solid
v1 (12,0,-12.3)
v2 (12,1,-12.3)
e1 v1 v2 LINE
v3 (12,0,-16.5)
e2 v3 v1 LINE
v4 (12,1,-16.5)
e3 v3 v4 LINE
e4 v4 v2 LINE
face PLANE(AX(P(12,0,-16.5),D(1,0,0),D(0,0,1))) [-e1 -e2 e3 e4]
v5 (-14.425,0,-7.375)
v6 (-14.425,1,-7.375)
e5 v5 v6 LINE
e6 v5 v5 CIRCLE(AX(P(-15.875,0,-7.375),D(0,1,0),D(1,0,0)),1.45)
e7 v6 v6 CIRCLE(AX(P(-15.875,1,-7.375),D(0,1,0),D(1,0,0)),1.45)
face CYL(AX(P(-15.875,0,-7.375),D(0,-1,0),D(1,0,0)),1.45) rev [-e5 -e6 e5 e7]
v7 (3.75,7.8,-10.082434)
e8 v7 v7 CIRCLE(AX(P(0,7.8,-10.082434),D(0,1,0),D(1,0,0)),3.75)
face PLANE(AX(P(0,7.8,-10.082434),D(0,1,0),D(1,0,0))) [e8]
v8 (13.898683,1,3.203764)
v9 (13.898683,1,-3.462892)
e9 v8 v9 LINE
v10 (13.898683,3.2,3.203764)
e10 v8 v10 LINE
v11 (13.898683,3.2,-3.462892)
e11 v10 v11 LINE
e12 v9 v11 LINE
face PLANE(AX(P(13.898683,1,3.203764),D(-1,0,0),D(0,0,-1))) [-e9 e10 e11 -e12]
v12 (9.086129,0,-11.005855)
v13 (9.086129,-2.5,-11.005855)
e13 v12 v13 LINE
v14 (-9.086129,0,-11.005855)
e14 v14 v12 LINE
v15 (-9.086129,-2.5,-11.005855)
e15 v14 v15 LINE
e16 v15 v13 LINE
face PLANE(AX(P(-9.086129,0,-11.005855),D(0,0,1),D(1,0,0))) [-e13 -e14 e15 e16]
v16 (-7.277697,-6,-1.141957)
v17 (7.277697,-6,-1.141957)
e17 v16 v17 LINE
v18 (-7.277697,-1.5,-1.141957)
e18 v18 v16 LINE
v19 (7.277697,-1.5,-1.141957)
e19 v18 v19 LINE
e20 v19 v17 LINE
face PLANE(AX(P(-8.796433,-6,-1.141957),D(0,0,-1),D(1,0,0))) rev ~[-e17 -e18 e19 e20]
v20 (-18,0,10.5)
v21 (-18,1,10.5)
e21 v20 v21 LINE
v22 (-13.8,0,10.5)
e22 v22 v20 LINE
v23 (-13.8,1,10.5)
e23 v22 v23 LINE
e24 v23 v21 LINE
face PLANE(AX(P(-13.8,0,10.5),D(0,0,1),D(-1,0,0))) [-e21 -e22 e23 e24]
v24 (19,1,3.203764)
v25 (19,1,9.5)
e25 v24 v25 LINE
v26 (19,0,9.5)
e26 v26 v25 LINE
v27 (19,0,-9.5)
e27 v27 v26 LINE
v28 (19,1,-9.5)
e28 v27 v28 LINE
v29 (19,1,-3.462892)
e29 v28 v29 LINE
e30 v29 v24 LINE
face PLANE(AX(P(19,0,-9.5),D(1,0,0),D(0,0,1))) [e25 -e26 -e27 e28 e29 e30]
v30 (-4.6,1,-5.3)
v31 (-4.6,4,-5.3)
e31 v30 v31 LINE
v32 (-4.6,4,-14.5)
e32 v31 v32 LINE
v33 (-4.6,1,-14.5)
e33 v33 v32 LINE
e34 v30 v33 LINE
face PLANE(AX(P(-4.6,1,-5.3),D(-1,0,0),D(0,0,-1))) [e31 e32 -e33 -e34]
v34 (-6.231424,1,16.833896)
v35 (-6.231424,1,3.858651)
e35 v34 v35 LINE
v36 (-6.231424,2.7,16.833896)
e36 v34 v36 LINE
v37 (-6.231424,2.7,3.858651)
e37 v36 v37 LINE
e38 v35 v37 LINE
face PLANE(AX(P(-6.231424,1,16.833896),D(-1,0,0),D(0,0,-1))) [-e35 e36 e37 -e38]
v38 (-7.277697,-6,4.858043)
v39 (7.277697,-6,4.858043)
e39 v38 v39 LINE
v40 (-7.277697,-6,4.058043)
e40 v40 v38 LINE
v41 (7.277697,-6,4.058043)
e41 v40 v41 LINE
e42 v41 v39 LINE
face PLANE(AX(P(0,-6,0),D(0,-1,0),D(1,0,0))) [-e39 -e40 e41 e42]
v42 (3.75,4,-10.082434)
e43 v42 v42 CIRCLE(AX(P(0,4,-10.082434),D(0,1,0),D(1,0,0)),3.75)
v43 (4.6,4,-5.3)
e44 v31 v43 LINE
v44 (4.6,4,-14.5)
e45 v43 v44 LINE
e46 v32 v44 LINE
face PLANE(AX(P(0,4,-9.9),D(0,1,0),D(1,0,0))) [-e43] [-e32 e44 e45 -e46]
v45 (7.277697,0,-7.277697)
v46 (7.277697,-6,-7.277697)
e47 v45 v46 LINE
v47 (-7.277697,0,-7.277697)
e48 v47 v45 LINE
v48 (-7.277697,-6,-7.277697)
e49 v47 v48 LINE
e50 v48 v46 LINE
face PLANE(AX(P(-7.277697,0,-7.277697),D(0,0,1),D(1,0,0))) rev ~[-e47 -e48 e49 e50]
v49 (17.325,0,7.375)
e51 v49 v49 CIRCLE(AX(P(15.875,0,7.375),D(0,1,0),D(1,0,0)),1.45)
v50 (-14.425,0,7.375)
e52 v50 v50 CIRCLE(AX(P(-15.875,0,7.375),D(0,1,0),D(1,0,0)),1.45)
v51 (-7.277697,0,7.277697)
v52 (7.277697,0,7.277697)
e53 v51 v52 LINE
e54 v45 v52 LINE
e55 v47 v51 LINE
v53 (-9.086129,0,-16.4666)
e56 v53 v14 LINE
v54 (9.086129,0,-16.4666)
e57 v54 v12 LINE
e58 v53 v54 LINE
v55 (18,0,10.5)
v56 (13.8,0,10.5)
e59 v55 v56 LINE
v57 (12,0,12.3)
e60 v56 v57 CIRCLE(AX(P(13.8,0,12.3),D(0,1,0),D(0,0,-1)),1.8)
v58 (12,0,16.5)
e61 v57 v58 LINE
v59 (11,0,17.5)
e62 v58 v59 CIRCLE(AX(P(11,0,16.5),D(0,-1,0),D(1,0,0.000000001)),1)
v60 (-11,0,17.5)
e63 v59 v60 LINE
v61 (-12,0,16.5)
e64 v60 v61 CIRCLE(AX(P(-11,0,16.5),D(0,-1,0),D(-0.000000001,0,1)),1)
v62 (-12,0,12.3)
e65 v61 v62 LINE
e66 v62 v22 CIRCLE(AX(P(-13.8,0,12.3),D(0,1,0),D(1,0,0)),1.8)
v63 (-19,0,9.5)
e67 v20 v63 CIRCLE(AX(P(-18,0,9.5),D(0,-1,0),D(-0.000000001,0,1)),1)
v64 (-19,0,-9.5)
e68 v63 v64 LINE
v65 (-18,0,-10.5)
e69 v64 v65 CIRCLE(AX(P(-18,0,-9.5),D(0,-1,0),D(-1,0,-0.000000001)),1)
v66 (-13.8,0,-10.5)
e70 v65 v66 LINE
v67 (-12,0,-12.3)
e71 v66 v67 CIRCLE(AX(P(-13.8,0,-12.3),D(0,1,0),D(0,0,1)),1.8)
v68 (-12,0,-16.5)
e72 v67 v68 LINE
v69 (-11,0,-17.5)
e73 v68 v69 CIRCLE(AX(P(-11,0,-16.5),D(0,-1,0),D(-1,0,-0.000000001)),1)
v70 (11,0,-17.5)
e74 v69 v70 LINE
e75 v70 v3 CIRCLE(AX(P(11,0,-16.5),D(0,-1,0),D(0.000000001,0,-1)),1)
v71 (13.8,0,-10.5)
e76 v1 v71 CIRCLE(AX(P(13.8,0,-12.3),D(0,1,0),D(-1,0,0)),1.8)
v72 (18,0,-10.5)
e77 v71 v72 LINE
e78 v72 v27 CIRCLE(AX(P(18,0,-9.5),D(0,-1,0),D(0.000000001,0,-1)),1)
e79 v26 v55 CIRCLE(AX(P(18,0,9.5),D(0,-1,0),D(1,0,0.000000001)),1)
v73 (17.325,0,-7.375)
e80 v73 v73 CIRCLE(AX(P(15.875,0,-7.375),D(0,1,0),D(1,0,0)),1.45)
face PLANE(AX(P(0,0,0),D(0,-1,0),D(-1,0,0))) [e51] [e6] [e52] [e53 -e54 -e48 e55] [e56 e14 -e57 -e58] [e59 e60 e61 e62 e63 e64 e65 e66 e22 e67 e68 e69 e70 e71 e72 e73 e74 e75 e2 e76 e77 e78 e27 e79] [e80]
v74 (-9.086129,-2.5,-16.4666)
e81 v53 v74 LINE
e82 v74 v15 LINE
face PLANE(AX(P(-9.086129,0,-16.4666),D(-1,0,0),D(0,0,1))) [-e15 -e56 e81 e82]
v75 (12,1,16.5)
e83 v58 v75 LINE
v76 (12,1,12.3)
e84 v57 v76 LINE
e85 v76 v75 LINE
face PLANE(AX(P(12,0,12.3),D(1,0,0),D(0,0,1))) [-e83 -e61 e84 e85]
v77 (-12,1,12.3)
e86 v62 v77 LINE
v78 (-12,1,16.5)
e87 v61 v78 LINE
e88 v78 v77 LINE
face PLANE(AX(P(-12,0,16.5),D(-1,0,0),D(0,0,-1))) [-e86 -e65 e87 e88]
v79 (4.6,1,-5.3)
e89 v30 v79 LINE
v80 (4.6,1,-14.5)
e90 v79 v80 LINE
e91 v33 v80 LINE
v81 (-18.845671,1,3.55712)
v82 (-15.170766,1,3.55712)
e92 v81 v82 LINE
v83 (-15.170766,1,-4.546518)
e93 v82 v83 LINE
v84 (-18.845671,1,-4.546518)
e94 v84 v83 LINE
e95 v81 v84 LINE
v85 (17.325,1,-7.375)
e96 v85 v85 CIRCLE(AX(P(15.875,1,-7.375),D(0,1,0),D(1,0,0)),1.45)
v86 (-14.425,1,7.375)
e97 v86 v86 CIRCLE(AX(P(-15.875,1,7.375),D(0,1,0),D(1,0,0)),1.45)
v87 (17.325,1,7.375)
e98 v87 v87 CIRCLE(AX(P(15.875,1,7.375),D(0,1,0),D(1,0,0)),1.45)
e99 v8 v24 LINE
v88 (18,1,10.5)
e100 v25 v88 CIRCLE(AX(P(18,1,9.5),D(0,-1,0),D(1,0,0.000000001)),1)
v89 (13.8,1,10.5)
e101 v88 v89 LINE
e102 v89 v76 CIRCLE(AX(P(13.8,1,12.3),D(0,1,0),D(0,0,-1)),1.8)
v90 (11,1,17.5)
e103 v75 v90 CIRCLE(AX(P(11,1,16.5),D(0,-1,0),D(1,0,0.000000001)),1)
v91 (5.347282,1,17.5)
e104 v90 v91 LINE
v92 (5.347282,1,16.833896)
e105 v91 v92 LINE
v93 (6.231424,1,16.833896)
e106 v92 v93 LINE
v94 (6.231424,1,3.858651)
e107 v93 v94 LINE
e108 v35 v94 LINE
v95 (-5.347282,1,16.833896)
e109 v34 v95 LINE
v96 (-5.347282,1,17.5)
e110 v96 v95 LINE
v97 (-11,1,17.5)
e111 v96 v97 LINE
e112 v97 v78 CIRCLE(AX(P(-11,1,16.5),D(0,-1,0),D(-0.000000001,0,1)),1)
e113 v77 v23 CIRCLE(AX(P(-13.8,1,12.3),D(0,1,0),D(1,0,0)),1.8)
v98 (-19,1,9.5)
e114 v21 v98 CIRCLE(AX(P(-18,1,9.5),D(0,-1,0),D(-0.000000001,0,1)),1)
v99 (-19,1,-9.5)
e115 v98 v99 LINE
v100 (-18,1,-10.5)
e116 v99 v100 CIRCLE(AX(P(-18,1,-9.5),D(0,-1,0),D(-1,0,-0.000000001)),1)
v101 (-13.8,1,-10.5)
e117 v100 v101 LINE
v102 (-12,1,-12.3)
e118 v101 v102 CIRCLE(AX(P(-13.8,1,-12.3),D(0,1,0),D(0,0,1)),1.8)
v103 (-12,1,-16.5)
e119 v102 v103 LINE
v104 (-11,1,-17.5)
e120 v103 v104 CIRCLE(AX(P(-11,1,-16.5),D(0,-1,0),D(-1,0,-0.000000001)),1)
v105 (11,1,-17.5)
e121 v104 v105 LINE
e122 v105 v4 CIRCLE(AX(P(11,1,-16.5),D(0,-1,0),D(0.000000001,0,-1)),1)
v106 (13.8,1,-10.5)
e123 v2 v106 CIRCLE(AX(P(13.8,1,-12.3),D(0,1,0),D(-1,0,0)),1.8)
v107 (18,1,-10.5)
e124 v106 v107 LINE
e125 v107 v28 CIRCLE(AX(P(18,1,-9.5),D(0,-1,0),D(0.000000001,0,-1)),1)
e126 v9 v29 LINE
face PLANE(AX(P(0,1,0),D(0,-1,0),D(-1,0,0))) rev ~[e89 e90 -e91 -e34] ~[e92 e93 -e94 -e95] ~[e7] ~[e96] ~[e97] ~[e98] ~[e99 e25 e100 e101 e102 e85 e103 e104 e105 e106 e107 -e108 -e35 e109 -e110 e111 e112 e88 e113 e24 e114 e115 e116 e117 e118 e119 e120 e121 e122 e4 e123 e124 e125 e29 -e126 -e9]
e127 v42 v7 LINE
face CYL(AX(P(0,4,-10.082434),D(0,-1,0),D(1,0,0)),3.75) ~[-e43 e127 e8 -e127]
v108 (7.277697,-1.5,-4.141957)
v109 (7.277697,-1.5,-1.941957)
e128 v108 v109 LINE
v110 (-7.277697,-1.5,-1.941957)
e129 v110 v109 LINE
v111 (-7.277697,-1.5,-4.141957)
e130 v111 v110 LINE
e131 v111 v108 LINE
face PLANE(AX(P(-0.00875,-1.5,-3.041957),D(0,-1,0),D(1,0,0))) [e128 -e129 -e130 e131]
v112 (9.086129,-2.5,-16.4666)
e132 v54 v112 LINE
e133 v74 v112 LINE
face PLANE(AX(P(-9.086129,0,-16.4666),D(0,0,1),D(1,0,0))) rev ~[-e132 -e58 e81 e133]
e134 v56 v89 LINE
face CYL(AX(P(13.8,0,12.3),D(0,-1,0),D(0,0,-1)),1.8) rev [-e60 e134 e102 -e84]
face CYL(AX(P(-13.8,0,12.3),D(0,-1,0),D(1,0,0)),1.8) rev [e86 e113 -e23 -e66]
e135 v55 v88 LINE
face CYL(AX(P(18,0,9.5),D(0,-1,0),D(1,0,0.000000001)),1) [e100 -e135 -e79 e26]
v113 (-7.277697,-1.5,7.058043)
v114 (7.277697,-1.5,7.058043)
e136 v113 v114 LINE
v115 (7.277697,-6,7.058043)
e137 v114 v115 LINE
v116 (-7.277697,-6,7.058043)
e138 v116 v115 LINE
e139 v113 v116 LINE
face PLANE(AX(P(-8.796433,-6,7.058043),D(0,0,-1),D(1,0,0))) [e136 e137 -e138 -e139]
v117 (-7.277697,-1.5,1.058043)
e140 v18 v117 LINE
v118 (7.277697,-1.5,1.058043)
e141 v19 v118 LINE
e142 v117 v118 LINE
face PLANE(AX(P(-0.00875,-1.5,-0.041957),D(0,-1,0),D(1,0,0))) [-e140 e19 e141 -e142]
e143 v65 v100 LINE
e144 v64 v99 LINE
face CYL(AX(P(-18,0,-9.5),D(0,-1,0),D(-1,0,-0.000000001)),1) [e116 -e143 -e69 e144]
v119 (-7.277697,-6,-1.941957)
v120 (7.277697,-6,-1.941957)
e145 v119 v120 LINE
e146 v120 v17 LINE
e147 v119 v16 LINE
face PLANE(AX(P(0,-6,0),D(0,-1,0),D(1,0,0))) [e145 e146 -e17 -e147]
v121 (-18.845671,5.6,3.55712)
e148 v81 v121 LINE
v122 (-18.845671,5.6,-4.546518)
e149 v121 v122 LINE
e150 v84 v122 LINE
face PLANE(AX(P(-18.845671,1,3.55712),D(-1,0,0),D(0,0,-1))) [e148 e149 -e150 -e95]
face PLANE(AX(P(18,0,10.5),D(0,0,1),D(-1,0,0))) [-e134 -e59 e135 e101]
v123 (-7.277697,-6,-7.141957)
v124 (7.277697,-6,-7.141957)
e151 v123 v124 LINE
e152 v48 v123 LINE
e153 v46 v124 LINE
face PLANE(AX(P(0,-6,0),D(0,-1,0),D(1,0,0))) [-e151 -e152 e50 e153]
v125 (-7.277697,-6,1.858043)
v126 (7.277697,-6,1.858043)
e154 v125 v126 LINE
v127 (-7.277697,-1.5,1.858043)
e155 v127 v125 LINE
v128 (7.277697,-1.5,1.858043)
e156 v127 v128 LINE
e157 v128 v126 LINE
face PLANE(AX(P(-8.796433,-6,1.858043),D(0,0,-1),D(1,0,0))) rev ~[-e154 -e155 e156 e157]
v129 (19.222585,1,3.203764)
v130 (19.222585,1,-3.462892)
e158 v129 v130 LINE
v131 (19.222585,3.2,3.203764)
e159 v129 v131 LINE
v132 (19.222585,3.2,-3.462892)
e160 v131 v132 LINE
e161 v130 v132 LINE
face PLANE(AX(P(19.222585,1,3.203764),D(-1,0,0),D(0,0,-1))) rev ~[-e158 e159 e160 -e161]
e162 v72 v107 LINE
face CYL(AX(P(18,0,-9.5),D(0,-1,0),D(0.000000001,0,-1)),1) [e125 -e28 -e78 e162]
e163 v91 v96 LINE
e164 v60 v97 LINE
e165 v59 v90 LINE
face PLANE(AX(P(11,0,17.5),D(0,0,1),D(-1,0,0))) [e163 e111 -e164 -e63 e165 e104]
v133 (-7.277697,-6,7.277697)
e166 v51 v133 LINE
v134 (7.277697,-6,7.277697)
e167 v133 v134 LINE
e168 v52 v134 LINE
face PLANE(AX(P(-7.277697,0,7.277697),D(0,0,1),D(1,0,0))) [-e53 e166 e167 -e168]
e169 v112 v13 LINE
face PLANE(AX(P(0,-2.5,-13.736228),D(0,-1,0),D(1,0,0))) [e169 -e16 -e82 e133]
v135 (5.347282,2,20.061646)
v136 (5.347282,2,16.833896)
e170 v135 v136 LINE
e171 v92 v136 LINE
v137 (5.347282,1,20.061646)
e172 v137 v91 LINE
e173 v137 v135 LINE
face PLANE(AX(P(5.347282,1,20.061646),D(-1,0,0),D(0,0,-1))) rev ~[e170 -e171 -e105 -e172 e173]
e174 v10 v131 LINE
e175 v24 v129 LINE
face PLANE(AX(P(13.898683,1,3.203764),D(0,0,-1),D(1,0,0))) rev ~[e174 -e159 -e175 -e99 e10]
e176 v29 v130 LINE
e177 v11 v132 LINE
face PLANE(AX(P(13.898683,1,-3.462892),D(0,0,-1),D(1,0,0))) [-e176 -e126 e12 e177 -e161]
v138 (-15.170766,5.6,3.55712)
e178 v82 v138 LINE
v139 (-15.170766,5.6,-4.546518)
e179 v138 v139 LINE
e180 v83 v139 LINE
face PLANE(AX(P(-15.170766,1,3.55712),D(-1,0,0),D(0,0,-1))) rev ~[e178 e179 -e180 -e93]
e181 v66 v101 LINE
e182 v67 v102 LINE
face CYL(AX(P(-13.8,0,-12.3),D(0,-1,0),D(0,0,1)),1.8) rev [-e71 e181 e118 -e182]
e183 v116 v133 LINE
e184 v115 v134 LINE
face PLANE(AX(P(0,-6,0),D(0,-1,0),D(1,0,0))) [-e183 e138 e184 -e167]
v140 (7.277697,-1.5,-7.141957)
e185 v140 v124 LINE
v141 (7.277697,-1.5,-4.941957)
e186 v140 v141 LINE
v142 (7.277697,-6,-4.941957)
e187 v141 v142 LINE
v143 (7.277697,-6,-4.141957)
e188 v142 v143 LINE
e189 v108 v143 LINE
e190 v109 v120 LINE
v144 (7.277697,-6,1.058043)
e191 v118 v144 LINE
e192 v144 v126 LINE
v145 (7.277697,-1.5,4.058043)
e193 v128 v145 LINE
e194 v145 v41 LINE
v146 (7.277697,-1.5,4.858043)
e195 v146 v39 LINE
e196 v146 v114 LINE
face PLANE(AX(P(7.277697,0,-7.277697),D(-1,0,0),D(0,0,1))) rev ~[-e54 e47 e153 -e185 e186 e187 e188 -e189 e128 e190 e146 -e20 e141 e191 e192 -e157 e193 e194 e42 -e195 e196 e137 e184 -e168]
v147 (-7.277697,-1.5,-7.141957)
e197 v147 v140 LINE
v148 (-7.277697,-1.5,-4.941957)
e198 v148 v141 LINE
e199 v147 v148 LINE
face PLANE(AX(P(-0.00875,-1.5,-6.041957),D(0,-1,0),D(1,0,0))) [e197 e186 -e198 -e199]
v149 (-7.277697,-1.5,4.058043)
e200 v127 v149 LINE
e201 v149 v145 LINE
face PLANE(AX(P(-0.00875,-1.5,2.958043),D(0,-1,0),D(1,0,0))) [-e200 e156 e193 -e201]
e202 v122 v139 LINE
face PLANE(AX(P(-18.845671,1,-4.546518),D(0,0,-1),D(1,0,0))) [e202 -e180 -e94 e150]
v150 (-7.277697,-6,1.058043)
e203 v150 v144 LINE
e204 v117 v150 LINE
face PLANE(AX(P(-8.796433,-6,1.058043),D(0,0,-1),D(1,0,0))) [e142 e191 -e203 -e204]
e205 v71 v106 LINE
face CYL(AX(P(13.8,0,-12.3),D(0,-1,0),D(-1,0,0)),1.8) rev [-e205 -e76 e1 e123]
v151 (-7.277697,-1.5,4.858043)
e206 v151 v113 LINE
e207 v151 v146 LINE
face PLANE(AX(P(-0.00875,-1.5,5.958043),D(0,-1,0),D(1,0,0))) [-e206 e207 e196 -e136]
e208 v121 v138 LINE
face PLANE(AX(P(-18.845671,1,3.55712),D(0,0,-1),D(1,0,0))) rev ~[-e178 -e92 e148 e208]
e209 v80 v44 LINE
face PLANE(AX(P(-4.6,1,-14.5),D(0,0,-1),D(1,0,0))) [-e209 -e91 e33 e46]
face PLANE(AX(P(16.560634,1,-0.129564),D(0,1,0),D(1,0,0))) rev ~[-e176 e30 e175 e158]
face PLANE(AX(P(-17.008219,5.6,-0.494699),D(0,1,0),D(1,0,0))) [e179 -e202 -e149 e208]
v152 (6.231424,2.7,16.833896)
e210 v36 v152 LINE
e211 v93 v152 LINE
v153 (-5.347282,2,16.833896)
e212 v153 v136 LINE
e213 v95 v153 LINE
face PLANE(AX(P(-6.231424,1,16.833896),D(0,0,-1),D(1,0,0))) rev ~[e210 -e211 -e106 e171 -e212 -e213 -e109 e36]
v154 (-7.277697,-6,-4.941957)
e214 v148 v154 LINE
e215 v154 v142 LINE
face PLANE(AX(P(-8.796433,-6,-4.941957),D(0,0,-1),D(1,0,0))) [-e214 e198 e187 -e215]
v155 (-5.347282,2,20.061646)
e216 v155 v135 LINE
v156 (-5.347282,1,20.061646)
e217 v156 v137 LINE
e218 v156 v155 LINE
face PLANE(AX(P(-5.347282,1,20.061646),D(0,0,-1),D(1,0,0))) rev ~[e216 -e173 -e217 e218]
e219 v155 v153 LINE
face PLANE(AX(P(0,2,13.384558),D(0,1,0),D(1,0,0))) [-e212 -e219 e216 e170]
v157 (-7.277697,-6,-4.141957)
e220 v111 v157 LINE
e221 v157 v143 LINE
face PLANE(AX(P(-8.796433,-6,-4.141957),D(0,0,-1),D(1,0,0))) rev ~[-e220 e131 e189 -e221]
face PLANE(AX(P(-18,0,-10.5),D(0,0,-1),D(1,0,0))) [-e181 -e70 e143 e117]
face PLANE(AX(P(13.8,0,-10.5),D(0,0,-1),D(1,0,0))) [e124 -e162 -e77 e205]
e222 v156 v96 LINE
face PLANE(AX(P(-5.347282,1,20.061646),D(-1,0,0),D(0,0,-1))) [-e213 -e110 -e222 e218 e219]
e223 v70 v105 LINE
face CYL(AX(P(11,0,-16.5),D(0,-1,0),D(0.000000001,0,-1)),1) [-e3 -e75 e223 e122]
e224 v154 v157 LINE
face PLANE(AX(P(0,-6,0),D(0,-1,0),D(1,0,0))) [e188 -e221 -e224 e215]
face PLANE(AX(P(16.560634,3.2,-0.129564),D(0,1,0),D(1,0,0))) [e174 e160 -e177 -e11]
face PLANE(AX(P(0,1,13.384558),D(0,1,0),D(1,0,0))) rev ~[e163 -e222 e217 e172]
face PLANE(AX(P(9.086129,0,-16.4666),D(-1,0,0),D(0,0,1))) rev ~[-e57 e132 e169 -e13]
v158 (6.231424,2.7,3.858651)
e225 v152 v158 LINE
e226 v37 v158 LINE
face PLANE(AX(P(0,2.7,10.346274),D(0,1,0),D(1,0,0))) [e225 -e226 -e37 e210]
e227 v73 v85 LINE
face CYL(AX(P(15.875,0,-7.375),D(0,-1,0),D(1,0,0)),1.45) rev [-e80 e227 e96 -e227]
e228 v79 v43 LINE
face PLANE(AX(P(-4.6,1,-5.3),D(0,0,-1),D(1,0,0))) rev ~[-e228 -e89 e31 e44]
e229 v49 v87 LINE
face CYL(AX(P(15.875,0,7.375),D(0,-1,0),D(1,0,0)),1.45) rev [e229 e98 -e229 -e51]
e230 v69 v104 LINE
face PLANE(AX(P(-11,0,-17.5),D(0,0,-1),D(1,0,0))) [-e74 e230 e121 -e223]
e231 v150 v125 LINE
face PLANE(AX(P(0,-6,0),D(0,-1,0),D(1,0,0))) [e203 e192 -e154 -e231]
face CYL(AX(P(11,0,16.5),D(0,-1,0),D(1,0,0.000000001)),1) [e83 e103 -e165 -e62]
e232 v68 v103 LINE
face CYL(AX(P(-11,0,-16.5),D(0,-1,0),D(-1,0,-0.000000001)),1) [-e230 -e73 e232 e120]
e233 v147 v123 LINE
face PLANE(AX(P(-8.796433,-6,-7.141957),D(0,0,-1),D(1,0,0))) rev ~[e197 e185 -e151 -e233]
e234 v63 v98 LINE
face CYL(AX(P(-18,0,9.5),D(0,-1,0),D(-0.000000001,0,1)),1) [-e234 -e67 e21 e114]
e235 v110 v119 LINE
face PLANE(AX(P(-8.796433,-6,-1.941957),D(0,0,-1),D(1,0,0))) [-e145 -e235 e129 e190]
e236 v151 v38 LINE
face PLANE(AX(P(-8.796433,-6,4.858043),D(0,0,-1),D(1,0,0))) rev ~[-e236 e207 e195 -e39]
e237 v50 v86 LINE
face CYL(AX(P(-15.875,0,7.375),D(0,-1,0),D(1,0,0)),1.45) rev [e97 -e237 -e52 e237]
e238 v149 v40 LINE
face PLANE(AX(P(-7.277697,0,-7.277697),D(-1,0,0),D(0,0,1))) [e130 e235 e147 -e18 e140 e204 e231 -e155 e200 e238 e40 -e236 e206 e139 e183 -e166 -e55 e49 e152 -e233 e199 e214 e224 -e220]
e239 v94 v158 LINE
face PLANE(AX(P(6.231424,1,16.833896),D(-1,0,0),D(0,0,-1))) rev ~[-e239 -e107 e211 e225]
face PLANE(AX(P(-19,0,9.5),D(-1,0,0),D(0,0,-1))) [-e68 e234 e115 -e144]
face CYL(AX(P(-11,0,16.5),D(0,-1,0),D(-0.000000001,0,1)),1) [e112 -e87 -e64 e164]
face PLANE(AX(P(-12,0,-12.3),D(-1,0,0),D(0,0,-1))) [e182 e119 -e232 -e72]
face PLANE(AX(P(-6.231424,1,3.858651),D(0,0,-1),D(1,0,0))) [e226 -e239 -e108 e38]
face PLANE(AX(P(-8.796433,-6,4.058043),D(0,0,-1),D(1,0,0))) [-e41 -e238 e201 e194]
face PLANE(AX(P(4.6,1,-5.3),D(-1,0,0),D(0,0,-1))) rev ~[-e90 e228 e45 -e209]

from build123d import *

# Parameters (mm, degrees)
SKETCH_1_R          = 1.45
EXTRUDE_1_DEPTH     = 1
SKETCH_2_W          = 3.674905937
SKETCH_2_H          = 8.103638732
EXTRUDE_2_DEPTH     = 4.6
SKETCH_3_W          = 9.2
SKETCH_3_H          = 9.2
EXTRUDE_3_DEPTH     = 3
SKETCH_4_R          = 3.75
EXTRUDE_4_DEPTH     = 3.8
SKETCH_5_W          = 5.32390219
SKETCH_5_H          = 6.666656283
EXTRUDE_5_DEPTH     = 2.2
SKETCH_6_W          = 12.46284852
SKETCH_6_H          = 12.975244807
EXTRUDE_6_DEPTH     = 1.7
SKETCH_7_W          = 10.69456342
SKETCH_7_H          = 13.354174441
EXTRUDE_7_DEPTH     = 1
SKETCH_8_W          = 14.555394544
SKETCH_8_H          = 14.555394544
EXTRUDE_8_DEPTH     = 6
SKETCH_9_W          = 18.172258066
SKETCH_9_H          = 5.460745639
EXTRUDE_9_DEPTH     = 2.5
SKETCH_10_W         = 17.57536677
SKETCH_10_H         = 2.2
CUT_EXTRUDE_1_DEPTH = 4.5


with BuildPart() as part:
    # 草图1 → 凸台-拉伸1 (new body)
    with BuildSketch(Plane(origin=(0, 0, 0), x_dir=(1, 0, 0), z_dir=(0, 1, 0))):
        with BuildLine():
            Line((-11, 17.5), (11, 17.5))
            ThreePointArc((11, 17.5), (11.707106781, 17.207106781), (12, 16.5))
            Line((12, 16.5), (12, 12.3))
            ThreePointArc((12, 12.3), (12.527207794, 11.027207794), (13.8, 10.5))
            Line((13.8, 10.5), (18, 10.5))
            ThreePointArc((18, 10.5), (18.707106781, 10.207106781), (19, 9.5))
            Line((19, 9.5), (19, -9.5))
            ThreePointArc((19, -9.5), (18.707106781, -10.207106781), (18, -10.5))
            Line((18, -10.5), (13.8, -10.5))
            ThreePointArc((13.8, -10.5), (12.527207794, -11.027207794), (12, -12.3))
            Line((12, -12.3), (12, -16.5))
            ThreePointArc((12, -16.5), (11.707106781, -17.207106781), (11, -17.5))
            Line((11, -17.5), (-11, -17.5))
            ThreePointArc((-11, -17.5), (-11.707106781, -17.207106781), (-12, -16.5))
            Line((-12, -16.5), (-12, -12.3))
            ThreePointArc((-12, -12.3), (-12.527207794, -11.027207794), (-13.8, -10.5))
            Line((-13.8, -10.5), (-18, -10.5))
            ThreePointArc((-18, -10.5), (-18.707106781, -10.207106781), (-19, -9.5))
            Line((-19, -9.5), (-19, 9.5))
            ThreePointArc((-19, 9.5), (-18.707106781, 10.207106781), (-18, 10.5))
            Line((-18, 10.5), (-13.8, 10.5))
            ThreePointArc((-13.8, 10.5), (-12.527207794, 11.027207794), (-12, 12.3))
            Line((-12, 12.3), (-12, 16.5))
            ThreePointArc((-12, 16.5), (-11.707106781, 17.207106781), (-11, 17.5))
        make_face()
        with Locations((15.875, 7.375)):
            Circle(SKETCH_1_R, mode=Mode.SUBTRACT)
        with Locations((15.875, -7.375)):
            Circle(SKETCH_1_R, mode=Mode.SUBTRACT)
        with Locations((-15.875, -7.375)):
            Circle(SKETCH_1_R, mode=Mode.SUBTRACT)
        with Locations((-15.875, 7.375)):
            Circle(SKETCH_1_R, mode=Mode.SUBTRACT)
    extrude(amount=EXTRUDE_1_DEPTH)

    # 草图2 → 凸台-拉伸2 (add)
    with BuildSketch(Plane(origin=(0, 1, 0), x_dir=(1, 0, 0), z_dir=(0, 1, 0))):
        with Locations((-17.008218503, 0.494698876)):
            Rectangle(SKETCH_2_W, SKETCH_2_H)
    extrude(amount=EXTRUDE_2_DEPTH)

    # 草图3 → 凸台-拉伸3 (add)
    with BuildSketch(Plane(origin=(0, 1, 0), x_dir=(1, 0, 0), z_dir=(0, 1, 0))):
        with Locations((0, 9.9)):
            Rectangle(SKETCH_3_W, SKETCH_3_H)
    extrude(amount=EXTRUDE_3_DEPTH)

    # 草图4 → 凸台-拉伸4 (add)
    with BuildSketch(Plane(origin=(0, 4, 0), x_dir=(1, 0, 0), z_dir=(0, 1, 0))):
        with Locations((0, 10.082434237)):
            Circle(SKETCH_4_R)
    extrude(amount=EXTRUDE_4_DEPTH)

    # 草图5 → 凸台-拉伸5 (add)
    with BuildSketch(Plane(origin=(0, 1, 0), x_dir=(1, 0, 0), z_dir=(0, 1, 0))):
        with Locations((16.560633805, 0.129563992)):
            Rectangle(SKETCH_5_W, SKETCH_5_H)
    extrude(amount=EXTRUDE_5_DEPTH)

    # 草图6 → 凸台-拉伸6 (add)
    with BuildSketch(Plane(origin=(0, 1, 0), x_dir=(1, 0, 0), z_dir=(0, 1, 0))):
        with Locations((0, -10.346273638)):
            Rectangle(SKETCH_6_W, SKETCH_6_H)
    extrude(amount=EXTRUDE_6_DEPTH)

    # 草图7 → 凸台-拉伸7 (add)
    with BuildSketch(Plane(origin=(0, 1, 0), x_dir=(1, 0, 0), z_dir=(0, 1, 0))):
        with Locations((0, -13.384558474)):
            Rectangle(SKETCH_7_W, SKETCH_7_H)
    extrude(amount=EXTRUDE_7_DEPTH)

    # 草图8 → 凸台-拉伸8 (add)
    with BuildSketch(Plane.XZ):
        Rectangle(SKETCH_8_W, SKETCH_8_H)
    extrude(amount=EXTRUDE_8_DEPTH)

    # 草图9 → 凸台-拉伸9 (add)
    with BuildSketch(Plane.XZ):
        with Locations((0, -13.73622766)):
            Rectangle(SKETCH_9_W, SKETCH_9_H)
    extrude(amount=EXTRUDE_9_DEPTH)

    # 草图10 → 切除-拉伸1 (cut)
    with BuildSketch(Plane.XZ.offset(6)):
        with Locations((-0.008749504, 5.958042987)):
            Rectangle(SKETCH_10_W, SKETCH_10_H)
        with Locations((-0.008749504, 2.958042987)):
            Rectangle(SKETCH_10_W, SKETCH_10_H)
        with Locations((-0.008749504, -0.041957013)):
            Rectangle(SKETCH_10_W, SKETCH_10_H)
        with Locations((-0.008749504, -3.041957013)):
            Rectangle(SKETCH_10_W, SKETCH_10_H)
        with Locations((-0.008749504, -6.041957013)):
            Rectangle(SKETCH_10_W, SKETCH_10_H)
    extrude(amount=-CUT_EXTRUDE_1_DEPTH, mode=Mode.SUBTRACT)


solid = part.part
